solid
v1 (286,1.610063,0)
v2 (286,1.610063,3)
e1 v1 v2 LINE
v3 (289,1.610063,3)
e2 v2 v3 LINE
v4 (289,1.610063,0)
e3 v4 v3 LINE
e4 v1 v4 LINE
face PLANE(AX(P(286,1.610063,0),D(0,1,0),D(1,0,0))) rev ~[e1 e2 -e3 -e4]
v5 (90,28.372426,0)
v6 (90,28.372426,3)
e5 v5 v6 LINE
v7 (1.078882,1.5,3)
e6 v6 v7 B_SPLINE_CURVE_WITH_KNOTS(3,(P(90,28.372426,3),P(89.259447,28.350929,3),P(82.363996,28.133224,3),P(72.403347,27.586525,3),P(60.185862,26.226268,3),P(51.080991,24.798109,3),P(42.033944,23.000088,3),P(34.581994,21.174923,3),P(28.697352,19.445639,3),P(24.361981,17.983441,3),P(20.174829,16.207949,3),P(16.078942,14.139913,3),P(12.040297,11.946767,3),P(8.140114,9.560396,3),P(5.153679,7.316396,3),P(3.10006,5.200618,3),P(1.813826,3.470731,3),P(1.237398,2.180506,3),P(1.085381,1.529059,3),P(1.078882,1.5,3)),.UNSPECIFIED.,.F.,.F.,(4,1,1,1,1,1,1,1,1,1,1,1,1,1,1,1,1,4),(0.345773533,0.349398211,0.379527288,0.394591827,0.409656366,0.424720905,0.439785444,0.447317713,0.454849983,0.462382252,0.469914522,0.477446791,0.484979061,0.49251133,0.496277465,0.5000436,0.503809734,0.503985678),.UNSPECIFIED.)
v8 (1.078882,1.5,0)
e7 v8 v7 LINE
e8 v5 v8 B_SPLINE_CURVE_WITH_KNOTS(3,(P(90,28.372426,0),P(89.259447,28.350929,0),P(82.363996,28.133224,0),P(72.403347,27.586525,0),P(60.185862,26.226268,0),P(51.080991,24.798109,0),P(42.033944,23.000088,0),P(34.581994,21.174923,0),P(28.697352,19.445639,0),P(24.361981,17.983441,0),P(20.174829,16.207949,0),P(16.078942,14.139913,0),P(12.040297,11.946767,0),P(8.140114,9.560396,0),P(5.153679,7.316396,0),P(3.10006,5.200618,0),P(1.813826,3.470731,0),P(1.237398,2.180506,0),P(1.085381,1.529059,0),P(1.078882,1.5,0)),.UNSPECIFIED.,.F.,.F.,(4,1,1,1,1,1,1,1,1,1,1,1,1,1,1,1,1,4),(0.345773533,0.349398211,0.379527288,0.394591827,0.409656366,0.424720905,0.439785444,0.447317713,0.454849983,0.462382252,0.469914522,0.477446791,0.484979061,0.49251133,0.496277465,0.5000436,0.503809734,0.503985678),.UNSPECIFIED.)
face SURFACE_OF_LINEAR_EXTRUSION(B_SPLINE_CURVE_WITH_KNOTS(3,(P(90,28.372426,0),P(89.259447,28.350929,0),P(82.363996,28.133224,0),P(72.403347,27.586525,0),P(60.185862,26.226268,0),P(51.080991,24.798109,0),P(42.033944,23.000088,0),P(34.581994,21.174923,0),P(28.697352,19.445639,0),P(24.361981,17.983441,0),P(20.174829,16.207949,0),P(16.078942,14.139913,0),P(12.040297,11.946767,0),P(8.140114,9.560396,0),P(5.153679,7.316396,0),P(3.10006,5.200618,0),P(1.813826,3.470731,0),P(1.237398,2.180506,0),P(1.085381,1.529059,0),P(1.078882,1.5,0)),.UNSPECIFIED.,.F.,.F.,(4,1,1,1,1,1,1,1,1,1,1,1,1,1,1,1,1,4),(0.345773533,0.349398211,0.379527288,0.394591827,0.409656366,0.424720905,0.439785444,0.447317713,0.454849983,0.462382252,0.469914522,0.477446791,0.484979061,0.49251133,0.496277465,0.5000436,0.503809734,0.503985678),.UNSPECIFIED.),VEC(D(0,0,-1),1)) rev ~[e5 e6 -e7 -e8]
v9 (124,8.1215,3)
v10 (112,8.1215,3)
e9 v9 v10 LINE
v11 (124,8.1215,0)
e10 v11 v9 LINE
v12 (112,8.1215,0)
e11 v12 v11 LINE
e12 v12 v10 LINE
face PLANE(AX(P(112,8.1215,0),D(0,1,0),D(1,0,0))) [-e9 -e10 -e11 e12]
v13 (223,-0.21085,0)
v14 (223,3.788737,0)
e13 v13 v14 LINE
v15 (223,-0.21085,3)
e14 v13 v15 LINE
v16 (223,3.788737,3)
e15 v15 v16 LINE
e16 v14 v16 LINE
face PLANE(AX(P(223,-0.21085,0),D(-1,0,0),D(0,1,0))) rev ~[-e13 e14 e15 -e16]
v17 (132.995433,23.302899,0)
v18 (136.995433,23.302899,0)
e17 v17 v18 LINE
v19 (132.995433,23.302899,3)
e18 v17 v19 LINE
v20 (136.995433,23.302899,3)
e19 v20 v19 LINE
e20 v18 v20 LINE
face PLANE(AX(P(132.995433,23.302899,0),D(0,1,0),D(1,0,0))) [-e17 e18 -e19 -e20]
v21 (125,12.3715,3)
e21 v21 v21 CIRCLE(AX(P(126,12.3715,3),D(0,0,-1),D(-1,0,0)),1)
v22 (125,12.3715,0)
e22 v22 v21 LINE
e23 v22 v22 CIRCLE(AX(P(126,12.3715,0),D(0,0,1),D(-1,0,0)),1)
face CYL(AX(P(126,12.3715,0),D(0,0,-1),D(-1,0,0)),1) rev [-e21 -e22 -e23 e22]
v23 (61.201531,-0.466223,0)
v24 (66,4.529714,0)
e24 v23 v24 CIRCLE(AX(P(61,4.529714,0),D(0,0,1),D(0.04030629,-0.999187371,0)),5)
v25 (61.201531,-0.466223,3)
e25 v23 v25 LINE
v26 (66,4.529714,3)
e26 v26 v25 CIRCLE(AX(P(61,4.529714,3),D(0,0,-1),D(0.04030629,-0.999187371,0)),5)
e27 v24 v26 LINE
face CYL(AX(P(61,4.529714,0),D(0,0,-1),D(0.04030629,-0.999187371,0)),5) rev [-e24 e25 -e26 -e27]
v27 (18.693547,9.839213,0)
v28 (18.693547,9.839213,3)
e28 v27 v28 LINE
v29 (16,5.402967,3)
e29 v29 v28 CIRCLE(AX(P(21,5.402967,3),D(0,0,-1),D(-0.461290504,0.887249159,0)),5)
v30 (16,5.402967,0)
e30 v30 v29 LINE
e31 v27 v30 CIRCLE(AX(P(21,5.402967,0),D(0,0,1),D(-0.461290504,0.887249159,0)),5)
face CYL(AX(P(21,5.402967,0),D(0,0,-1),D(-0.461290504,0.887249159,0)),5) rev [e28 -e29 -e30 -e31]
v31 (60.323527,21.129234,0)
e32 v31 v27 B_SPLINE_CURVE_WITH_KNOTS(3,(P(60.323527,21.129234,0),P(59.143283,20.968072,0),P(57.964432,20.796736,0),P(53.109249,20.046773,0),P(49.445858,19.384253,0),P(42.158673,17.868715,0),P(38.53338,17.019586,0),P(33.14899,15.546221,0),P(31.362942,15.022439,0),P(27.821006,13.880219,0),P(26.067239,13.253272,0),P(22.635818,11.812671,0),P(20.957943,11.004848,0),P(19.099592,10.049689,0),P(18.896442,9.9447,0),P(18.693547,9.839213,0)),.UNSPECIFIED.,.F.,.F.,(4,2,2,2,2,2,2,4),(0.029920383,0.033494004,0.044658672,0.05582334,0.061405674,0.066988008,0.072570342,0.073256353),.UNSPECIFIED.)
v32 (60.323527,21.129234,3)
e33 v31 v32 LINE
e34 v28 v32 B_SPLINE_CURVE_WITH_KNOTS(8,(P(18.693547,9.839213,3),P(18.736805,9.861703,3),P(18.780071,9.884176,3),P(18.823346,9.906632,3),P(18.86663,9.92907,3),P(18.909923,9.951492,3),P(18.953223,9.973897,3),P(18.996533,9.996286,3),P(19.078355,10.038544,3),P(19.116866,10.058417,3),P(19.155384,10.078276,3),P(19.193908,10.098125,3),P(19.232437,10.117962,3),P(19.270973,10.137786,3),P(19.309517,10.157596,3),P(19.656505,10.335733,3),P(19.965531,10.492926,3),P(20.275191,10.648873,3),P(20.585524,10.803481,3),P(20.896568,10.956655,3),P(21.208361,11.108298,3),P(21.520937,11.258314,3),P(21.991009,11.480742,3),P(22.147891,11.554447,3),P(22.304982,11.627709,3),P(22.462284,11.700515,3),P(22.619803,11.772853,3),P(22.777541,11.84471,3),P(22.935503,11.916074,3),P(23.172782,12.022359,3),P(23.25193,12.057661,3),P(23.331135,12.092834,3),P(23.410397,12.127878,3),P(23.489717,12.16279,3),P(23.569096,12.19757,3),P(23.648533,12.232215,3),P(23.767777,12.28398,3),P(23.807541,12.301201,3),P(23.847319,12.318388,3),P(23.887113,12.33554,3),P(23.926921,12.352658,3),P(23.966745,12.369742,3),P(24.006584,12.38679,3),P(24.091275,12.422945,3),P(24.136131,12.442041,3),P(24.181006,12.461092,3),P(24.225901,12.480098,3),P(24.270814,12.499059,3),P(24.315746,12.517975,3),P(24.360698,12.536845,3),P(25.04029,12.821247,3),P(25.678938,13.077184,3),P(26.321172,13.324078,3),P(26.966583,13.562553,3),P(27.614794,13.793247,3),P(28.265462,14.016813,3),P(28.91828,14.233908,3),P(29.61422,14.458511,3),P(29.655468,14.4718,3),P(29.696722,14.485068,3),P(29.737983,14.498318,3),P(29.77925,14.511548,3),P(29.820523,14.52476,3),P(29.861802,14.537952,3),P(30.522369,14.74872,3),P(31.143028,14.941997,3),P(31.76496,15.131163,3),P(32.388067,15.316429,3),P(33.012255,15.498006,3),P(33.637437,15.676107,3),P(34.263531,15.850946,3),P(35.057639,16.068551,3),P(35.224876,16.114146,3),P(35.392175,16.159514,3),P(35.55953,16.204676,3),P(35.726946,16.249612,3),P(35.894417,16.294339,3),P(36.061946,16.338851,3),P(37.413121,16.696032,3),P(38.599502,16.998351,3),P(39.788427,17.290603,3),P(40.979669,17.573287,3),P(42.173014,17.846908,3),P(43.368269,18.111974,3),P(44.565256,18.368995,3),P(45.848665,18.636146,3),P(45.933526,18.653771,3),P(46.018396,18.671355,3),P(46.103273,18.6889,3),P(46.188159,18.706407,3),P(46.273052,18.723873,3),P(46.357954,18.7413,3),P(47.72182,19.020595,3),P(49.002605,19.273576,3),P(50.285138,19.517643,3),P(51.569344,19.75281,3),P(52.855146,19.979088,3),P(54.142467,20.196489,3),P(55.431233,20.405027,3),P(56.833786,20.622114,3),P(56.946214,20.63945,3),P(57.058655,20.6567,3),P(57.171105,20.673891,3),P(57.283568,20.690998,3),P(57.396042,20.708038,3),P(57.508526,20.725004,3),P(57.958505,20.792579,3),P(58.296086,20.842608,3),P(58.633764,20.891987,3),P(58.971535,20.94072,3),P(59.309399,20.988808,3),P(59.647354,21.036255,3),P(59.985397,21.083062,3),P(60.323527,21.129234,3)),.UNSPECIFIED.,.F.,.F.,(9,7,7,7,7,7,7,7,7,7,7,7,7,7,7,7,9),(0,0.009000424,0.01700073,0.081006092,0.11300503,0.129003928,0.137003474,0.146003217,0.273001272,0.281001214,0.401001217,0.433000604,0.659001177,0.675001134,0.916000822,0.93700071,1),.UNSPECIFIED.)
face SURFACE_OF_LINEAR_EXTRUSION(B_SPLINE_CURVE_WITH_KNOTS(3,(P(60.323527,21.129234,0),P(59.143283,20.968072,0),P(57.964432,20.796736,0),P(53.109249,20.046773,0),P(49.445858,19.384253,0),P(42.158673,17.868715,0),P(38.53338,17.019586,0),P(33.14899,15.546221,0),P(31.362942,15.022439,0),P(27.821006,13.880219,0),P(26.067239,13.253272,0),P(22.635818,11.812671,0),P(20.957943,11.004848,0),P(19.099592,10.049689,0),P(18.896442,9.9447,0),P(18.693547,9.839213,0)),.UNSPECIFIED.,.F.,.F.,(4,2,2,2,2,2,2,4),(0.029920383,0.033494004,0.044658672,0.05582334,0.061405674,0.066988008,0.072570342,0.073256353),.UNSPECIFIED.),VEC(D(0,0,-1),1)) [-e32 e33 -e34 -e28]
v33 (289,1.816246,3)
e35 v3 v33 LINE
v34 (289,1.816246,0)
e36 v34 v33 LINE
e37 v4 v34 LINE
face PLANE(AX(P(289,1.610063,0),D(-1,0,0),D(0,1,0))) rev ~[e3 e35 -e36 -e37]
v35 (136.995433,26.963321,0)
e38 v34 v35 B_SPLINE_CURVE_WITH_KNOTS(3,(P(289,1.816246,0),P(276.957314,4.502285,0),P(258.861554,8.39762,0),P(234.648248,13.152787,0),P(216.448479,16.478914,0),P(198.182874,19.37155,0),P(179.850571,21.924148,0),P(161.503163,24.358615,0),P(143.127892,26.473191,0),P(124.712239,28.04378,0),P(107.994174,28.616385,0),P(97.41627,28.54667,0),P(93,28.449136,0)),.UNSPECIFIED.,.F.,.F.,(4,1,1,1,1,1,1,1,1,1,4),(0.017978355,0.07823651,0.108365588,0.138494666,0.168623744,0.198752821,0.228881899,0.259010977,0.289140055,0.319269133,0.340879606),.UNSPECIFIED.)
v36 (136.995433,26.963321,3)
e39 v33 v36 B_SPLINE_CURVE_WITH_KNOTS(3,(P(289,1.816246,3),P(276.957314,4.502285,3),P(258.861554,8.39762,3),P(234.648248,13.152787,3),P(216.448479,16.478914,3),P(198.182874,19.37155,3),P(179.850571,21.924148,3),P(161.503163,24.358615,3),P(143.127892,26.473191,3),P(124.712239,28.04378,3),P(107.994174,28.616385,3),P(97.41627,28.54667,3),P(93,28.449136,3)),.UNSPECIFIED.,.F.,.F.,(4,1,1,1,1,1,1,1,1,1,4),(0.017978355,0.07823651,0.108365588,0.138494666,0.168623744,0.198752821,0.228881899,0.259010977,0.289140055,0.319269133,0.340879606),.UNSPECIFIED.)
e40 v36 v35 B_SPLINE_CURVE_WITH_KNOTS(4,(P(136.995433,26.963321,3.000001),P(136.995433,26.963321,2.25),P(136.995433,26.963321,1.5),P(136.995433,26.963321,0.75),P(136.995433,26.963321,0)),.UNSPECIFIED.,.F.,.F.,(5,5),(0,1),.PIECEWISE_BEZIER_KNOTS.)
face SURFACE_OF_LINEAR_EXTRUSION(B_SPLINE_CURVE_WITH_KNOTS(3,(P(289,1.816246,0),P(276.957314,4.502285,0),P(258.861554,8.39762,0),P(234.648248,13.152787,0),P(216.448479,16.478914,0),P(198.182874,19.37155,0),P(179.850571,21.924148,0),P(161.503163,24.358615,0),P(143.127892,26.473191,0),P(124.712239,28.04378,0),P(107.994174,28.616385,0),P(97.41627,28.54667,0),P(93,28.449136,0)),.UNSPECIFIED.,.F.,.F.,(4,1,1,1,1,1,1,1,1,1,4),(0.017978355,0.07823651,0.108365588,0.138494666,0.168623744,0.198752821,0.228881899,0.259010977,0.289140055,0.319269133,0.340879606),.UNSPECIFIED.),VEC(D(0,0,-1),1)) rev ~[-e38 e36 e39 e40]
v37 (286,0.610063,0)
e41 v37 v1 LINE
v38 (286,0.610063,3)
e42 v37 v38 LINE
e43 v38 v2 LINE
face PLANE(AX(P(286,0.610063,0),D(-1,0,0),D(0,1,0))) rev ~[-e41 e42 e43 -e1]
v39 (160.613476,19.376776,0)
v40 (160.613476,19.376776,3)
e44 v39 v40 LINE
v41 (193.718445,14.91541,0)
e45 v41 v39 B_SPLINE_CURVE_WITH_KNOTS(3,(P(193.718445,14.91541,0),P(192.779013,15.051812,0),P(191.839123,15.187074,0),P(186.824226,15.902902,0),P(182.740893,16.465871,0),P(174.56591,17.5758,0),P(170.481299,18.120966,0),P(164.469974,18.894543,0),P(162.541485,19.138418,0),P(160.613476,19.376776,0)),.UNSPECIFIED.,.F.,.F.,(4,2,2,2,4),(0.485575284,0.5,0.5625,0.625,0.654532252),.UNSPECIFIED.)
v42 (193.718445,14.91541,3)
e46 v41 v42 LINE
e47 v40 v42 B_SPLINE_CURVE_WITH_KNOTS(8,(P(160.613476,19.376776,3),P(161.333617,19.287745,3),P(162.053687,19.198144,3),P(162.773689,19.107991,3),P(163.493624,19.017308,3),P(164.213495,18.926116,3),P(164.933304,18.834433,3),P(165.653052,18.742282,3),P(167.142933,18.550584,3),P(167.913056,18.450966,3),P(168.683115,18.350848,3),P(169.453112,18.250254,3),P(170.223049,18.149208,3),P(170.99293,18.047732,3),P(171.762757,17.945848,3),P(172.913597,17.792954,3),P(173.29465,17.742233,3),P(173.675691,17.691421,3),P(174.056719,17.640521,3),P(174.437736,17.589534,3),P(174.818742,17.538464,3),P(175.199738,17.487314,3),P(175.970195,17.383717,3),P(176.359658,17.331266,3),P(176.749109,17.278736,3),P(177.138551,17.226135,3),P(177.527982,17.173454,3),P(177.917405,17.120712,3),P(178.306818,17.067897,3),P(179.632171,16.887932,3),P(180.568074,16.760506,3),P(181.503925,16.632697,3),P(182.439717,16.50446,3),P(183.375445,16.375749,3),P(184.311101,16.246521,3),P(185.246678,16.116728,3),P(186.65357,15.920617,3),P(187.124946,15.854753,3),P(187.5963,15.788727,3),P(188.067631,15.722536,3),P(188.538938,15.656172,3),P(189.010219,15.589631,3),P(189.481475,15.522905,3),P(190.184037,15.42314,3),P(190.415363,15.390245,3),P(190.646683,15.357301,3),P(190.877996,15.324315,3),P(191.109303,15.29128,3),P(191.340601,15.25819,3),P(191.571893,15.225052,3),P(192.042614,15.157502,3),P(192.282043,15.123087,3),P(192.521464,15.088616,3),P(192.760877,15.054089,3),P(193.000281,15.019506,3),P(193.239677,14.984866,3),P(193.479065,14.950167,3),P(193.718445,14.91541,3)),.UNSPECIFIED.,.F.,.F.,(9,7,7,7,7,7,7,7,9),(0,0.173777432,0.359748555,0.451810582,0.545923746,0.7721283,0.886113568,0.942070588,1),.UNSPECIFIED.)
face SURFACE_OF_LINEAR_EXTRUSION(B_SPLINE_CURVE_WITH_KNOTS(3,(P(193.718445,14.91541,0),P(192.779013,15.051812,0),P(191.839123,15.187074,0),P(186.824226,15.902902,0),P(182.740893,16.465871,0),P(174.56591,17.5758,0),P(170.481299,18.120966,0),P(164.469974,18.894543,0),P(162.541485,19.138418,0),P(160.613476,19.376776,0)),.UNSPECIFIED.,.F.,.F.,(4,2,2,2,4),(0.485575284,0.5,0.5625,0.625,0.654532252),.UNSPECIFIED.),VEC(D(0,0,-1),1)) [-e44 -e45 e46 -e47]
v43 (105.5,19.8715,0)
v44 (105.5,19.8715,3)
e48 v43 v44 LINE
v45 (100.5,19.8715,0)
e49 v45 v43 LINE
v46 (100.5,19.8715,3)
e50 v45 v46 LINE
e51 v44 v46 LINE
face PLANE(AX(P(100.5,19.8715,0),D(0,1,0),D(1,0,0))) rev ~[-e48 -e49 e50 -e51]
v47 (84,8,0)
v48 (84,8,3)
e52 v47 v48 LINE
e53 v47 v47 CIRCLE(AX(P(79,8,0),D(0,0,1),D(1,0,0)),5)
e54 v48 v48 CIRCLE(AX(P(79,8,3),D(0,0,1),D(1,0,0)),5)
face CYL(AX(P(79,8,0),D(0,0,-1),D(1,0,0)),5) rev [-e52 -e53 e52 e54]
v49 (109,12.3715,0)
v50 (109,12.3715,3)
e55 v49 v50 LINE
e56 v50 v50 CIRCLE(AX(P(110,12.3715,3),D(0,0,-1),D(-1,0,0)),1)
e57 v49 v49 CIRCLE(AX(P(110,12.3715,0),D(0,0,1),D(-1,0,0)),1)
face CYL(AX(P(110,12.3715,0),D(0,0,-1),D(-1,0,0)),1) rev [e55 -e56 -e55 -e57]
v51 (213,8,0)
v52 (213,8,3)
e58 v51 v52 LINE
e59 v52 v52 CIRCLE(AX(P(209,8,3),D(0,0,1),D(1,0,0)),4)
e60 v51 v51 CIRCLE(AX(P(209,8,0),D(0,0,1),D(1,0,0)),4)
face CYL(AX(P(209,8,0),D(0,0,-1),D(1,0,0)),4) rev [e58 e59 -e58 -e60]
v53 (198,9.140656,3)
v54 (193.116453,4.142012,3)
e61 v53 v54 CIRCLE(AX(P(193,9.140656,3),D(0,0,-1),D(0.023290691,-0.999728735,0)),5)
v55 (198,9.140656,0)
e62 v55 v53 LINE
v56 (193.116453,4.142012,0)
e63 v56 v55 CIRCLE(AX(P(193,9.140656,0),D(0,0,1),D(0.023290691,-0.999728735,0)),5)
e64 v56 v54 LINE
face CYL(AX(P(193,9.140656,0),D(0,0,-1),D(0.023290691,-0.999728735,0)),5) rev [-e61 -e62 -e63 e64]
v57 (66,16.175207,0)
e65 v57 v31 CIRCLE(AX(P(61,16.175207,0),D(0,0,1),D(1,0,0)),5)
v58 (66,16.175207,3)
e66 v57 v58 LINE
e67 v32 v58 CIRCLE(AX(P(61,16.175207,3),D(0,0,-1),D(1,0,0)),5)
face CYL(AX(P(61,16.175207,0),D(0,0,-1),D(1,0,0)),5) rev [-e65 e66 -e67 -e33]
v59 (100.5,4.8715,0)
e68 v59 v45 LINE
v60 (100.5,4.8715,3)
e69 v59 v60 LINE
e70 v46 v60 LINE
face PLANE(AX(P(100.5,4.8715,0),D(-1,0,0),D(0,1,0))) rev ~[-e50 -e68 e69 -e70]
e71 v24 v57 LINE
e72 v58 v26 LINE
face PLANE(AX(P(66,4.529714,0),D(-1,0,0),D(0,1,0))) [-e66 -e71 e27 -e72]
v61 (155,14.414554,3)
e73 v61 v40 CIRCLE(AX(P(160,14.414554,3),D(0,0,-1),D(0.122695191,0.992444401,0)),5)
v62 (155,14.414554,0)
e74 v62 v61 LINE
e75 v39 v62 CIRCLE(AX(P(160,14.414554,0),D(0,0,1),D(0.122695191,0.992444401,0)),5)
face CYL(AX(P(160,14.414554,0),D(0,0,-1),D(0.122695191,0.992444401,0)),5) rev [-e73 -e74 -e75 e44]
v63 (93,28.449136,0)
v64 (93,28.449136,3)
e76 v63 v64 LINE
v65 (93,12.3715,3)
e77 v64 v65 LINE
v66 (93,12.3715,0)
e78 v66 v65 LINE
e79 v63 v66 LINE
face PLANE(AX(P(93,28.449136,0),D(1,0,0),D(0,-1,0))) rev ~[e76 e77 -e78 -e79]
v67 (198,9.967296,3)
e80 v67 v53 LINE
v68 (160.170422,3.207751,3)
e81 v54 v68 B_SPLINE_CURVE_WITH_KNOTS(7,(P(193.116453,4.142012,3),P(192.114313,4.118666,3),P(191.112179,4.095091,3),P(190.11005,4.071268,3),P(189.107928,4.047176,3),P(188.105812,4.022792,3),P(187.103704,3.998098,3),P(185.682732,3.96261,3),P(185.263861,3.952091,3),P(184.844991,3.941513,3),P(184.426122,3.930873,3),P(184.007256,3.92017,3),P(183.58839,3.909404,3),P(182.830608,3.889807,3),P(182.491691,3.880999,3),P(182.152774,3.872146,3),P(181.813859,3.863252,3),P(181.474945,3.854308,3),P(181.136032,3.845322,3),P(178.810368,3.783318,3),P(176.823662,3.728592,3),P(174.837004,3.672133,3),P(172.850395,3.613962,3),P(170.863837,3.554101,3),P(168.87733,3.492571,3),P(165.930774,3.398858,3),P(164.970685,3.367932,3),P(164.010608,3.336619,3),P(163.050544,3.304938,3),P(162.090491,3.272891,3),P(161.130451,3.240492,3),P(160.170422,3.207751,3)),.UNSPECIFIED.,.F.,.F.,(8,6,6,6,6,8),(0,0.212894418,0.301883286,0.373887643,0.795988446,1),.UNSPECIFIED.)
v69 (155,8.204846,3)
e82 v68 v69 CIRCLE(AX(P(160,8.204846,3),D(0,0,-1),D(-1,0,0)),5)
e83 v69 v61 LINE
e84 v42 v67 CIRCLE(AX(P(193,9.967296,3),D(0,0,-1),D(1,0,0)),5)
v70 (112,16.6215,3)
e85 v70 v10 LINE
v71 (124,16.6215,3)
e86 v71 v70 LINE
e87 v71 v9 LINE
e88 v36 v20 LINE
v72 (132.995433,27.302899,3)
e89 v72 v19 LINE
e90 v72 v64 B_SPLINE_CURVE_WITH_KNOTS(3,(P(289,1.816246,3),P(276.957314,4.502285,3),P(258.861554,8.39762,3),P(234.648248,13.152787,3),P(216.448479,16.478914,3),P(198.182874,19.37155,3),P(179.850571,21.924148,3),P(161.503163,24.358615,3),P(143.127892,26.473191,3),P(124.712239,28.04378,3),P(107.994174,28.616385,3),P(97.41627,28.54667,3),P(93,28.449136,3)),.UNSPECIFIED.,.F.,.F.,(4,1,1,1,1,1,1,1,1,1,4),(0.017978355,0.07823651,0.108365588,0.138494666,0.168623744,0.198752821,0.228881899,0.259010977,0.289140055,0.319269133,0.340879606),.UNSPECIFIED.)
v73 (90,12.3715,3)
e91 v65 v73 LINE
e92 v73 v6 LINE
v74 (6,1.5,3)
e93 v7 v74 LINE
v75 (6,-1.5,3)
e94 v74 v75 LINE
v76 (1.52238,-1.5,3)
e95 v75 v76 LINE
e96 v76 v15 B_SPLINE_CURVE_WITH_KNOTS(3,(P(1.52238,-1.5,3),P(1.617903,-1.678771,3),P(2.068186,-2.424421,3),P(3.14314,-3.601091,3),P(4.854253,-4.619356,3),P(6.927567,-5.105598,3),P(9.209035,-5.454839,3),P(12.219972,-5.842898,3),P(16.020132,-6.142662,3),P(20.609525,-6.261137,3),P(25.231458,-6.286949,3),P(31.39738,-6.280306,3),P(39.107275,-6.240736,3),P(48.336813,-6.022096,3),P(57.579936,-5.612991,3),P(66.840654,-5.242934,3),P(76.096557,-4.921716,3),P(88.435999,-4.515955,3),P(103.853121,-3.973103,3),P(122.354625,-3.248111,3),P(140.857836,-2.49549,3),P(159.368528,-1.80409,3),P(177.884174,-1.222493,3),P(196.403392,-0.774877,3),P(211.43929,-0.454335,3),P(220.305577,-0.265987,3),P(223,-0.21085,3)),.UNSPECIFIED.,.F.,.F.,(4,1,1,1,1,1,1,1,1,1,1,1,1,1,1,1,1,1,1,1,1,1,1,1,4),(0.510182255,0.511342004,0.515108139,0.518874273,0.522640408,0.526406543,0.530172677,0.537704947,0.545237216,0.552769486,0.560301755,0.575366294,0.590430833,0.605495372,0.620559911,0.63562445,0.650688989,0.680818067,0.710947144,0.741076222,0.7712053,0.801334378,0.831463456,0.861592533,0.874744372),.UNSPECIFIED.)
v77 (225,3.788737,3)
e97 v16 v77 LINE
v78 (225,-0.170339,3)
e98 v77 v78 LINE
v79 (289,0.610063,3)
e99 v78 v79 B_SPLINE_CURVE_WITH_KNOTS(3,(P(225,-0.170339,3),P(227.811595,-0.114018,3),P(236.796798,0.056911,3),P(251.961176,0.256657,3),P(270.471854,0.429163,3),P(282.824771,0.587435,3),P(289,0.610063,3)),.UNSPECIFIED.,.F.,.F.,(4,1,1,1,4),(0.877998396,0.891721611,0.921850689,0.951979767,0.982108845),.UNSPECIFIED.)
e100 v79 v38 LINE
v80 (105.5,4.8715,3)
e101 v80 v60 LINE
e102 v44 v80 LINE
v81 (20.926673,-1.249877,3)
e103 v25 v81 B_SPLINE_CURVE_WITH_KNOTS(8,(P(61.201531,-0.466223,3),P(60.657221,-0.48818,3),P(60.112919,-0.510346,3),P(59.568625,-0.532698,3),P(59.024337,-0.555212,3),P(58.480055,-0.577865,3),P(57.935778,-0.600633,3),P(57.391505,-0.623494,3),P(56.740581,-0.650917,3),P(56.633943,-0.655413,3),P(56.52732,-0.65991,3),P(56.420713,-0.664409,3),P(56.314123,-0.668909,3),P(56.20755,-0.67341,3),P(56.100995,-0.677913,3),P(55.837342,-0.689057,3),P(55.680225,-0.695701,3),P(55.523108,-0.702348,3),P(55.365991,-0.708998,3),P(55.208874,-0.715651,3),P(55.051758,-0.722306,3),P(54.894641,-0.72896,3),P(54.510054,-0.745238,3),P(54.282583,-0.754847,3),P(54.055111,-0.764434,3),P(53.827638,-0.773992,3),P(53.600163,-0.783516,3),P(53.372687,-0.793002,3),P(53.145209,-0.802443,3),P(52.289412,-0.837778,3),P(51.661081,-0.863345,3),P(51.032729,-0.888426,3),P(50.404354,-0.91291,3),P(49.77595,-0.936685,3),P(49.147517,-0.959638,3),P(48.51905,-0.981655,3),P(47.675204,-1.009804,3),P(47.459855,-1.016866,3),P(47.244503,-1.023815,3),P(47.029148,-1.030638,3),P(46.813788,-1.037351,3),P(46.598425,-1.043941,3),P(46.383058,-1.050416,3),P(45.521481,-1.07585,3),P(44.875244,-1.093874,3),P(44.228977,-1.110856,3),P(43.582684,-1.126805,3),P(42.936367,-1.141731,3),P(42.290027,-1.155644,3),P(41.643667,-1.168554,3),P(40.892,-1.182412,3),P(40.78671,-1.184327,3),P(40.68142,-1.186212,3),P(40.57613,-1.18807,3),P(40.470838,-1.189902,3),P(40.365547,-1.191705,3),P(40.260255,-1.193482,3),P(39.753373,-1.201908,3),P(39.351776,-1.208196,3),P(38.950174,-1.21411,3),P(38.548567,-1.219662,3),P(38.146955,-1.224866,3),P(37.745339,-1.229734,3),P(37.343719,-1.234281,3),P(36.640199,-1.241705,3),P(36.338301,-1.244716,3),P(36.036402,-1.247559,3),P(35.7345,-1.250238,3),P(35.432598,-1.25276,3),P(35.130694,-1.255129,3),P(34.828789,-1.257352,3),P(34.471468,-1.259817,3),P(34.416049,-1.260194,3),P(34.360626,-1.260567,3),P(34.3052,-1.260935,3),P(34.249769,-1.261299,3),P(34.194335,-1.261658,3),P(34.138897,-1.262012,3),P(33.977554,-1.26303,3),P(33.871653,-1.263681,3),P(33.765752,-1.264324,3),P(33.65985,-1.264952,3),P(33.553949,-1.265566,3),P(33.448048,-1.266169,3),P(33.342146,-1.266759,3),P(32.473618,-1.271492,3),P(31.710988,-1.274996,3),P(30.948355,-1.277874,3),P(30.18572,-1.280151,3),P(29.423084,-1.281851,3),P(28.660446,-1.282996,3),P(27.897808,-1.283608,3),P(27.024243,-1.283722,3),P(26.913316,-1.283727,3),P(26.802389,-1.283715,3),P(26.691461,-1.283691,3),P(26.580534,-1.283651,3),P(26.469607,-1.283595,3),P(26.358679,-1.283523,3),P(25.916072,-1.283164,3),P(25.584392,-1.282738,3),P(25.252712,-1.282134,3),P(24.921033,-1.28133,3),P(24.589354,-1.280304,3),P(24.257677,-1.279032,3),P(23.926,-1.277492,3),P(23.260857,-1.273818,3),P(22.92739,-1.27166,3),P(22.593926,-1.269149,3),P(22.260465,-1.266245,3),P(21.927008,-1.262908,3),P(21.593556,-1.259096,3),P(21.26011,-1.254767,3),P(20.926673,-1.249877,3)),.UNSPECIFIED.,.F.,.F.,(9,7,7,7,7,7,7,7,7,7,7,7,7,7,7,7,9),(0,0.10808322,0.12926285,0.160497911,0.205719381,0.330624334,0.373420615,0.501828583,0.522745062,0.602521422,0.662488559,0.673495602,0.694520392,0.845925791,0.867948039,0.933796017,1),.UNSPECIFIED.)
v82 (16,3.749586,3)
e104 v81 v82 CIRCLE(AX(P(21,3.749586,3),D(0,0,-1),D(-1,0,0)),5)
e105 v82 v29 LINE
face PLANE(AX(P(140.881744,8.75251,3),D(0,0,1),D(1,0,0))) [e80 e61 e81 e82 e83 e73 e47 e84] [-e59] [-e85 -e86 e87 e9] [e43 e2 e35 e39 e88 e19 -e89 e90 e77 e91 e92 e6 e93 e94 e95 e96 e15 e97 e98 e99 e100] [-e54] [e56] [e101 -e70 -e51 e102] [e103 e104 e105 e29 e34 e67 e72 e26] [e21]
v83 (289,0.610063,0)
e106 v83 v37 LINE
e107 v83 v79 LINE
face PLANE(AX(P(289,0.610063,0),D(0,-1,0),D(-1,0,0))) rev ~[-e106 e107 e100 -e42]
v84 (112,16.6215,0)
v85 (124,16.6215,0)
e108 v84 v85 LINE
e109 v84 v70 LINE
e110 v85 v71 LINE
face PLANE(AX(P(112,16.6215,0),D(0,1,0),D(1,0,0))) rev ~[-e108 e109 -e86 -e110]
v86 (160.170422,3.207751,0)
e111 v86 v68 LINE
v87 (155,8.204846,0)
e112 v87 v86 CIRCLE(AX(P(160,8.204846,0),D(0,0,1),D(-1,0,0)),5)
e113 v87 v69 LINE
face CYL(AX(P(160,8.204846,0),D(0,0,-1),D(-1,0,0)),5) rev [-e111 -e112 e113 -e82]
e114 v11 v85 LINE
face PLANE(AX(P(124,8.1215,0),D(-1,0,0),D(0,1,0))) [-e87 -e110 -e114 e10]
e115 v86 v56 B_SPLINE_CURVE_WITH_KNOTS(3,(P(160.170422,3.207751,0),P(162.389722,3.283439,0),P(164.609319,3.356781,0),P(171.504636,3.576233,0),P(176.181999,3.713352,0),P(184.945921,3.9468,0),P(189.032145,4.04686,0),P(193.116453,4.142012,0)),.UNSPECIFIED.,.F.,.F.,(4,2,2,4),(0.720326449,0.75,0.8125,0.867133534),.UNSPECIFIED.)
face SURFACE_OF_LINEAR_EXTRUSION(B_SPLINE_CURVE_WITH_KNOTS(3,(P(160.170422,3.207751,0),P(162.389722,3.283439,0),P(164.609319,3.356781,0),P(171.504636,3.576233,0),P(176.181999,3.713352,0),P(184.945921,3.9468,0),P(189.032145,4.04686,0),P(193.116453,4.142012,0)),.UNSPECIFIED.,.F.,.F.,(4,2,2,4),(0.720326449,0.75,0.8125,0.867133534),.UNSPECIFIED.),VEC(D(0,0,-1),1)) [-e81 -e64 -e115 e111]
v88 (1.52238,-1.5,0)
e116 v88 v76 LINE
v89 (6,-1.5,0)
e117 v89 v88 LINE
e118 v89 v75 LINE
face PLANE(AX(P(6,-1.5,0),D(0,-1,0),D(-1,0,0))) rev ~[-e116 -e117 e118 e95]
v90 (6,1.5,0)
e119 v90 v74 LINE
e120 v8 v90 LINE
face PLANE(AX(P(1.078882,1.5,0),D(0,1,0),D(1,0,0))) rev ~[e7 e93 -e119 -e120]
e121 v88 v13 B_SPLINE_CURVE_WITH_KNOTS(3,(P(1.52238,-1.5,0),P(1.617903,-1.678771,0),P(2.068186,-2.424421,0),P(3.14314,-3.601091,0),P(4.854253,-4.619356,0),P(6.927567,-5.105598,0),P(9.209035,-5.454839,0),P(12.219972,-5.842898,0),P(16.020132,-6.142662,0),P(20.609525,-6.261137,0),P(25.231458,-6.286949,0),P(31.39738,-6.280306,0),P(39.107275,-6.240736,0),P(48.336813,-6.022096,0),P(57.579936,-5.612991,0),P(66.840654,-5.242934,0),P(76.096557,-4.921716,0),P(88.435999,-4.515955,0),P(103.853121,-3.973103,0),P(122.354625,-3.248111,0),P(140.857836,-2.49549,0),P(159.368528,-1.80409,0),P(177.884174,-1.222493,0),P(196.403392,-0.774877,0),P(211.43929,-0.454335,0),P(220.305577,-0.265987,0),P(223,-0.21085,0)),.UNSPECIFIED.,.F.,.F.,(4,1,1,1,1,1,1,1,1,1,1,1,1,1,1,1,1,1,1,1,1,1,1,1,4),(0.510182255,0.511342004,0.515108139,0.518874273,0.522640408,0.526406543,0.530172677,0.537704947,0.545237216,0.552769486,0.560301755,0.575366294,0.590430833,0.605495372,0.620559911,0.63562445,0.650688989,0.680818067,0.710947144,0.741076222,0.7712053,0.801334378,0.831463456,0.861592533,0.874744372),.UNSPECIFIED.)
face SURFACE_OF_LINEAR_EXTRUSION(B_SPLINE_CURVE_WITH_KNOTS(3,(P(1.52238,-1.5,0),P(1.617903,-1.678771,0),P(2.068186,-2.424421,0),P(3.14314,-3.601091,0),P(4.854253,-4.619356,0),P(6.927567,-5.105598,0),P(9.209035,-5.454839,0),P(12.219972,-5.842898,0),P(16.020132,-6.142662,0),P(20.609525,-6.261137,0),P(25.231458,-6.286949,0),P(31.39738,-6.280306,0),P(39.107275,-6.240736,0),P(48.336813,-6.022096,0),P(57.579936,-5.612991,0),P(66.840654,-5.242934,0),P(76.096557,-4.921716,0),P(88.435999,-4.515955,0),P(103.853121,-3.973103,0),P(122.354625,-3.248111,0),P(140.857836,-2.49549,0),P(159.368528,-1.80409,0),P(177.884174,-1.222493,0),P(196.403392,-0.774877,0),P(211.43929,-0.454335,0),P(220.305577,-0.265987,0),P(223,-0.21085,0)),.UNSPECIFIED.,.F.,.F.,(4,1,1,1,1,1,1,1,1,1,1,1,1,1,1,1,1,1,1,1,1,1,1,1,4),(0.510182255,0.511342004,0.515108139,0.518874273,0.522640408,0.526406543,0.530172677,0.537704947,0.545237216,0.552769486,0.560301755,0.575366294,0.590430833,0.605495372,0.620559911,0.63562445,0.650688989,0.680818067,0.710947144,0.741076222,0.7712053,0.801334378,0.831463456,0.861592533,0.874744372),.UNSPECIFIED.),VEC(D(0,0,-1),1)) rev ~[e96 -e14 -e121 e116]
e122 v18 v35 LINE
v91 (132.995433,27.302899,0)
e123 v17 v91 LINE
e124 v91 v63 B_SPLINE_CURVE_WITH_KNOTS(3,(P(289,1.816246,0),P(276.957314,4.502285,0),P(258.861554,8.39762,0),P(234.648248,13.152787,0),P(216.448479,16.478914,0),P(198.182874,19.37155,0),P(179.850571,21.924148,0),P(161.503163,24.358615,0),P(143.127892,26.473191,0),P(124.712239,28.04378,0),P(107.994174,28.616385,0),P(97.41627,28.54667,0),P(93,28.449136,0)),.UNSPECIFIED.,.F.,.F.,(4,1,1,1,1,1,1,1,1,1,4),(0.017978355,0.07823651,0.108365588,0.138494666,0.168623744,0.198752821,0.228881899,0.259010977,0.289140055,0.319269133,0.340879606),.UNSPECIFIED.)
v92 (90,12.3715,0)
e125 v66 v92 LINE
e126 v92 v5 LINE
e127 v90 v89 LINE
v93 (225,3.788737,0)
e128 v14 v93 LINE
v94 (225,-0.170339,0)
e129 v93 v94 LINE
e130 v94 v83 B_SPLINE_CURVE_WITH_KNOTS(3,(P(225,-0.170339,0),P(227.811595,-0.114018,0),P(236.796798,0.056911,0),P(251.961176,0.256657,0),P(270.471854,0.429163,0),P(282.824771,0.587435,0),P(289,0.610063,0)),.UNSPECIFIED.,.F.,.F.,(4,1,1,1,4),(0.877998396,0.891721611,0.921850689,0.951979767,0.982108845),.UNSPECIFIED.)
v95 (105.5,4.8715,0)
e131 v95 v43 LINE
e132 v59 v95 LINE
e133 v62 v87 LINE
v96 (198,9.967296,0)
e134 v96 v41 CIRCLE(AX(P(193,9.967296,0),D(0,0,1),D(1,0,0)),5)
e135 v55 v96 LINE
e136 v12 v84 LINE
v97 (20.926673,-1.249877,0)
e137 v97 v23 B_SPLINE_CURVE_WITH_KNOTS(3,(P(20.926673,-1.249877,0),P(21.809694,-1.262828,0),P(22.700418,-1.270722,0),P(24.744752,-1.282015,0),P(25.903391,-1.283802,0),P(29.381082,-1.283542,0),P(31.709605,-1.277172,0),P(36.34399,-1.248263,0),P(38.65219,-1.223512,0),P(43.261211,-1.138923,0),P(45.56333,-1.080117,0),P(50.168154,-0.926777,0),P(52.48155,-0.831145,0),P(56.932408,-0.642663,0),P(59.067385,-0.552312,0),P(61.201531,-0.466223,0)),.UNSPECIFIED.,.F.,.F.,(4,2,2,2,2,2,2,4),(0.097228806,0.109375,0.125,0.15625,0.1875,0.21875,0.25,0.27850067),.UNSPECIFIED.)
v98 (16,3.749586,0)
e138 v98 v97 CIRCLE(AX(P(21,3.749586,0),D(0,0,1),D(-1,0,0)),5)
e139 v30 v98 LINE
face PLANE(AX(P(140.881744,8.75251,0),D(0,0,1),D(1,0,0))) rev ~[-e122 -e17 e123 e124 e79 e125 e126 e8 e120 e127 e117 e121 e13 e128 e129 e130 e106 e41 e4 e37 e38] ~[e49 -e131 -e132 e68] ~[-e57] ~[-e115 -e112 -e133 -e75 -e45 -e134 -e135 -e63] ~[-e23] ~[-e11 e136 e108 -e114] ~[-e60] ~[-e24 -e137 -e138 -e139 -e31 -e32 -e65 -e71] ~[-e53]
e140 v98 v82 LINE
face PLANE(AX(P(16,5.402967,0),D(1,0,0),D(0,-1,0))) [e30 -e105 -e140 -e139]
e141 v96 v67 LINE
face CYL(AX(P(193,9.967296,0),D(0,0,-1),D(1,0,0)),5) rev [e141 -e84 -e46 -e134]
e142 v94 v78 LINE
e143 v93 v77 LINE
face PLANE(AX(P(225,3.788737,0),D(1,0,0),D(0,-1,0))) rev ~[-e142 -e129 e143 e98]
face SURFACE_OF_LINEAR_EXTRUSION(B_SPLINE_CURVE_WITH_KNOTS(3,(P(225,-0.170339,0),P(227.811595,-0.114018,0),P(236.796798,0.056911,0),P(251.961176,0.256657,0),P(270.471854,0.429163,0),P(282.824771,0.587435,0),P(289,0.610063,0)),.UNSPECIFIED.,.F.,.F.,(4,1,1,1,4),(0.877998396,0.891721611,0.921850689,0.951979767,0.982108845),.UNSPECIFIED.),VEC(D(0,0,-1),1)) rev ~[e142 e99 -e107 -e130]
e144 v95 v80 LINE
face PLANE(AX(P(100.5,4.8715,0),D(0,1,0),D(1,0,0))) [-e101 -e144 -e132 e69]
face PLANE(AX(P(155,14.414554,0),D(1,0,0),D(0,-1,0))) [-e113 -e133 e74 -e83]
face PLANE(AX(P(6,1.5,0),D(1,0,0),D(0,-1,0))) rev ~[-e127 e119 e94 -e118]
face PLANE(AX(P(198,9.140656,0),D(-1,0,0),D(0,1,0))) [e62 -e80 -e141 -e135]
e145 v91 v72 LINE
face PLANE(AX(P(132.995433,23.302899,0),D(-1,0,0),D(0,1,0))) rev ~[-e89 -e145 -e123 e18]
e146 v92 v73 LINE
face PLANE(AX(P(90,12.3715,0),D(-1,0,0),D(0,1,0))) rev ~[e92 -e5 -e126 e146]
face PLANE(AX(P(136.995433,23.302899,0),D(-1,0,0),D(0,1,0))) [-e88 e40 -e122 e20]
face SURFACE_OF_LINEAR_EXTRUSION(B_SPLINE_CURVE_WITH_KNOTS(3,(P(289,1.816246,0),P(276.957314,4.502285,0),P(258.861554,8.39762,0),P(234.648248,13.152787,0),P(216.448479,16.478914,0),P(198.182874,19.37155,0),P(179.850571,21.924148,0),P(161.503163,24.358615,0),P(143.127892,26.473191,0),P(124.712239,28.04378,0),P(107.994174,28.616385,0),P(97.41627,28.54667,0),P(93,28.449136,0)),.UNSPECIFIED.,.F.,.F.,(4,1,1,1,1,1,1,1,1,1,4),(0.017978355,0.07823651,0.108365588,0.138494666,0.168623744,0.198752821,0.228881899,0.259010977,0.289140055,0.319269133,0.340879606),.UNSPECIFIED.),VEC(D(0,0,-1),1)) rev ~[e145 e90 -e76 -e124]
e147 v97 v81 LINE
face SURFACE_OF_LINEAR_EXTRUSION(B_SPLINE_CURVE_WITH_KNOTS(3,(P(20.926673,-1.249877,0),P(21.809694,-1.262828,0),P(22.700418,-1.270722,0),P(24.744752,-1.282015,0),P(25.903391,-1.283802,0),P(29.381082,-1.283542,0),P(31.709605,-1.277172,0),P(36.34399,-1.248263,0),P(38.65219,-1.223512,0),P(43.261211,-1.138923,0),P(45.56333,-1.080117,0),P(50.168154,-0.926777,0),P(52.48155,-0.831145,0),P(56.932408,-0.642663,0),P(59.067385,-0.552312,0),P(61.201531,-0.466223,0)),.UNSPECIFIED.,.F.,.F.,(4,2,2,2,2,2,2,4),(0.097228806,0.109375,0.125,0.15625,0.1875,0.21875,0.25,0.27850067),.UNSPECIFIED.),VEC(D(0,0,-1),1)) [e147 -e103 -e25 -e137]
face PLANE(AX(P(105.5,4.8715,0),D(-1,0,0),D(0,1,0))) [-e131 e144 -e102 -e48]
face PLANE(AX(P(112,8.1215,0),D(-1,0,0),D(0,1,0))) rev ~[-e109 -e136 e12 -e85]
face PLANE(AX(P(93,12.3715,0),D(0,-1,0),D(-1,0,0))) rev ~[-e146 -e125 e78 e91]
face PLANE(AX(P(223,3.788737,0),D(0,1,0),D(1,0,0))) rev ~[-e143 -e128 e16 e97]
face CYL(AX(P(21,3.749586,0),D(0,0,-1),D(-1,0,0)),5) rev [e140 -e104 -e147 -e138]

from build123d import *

# Parameters (mm, degrees)
SKETCH_1_R          = 5
SKETCH_1_R_2        = 4
EXTRUDE_1_DEPTH     = 3
SKETCH_3_W          = 5
SKETCH_3_H          = 15
SKETCH_3_W_2        = 12
SKETCH_3_H_2        = 8.5
SKETCH_3_R          = 1
SKETCH_3_W_3        = 4
SKETCH_3_H_3        = 4
CUT_EXTRUDE_2_DEPTH = 291.422386836


with BuildPart() as part:
    # 草图1 → 凸台-拉伸1 (new body)
    with BuildSketch(Plane.XY):
        with BuildLine():
            Line((90, 12.3715), (90, 28.372426217))
            add(Edge.make_bspline(
                [(90, 28.372426217), (89.259446982, 28.350928743), (82.363996343, 28.13322439), (72.403347361, 27.586524792), (60.185862052, 26.226268085), (51.080991088, 24.79810862), (42.033943524, 23.000087944), (34.581994337, 21.174922903), (28.697351661, 19.44563851), (24.361981086, 17.983441115), (20.174828998, 16.207949367), (16.078941989, 14.139912989), (12.040296713, 11.946766626), (8.14011433, 9.56039573), (5.153679337, 7.316395724), (3.100060439, 5.200618052), (1.813825976, 3.470730924), (1.237398467, 2.180506339), (1.085380705, 1.529058937), (1.078882286, 1.5)],
                knots=[0.345773533, 0.345773533, 0.345773533, 0.345773533, 0.349398211, 0.379527288, 0.394591827, 0.409656366, 0.424720905, 0.439785444, 0.447317713, 0.454849983, 0.462382252, 0.469914522, 0.477446791, 0.484979061, 0.49251133, 0.496277465, 0.5000436, 0.503809734, 0.503985678, 0.503985678, 0.503985678, 0.503985678], degree=3))
            Line((1.078882286, 1.5), (6, 1.5))
            Line((6, 1.5), (6, -1.5))
            Line((6, -1.5), (1.522379628, -1.5))
            add(Edge.make_bspline(
                [(1.522379628, -1.5), (1.617903461, -1.678770523), (2.068186491, -2.42442122), (3.143139608, -3.601090845), (4.854253, -4.619355756), (6.927567017, -5.105597911), (9.209034621, -5.454839075), (12.219971865, -5.84289763), (16.020132359, -6.14266222), (20.609524976, -6.2611368), (25.231457517, -6.286948592), (31.397380169, -6.280305851), (39.107274969, -6.240736398), (48.336813051, -6.022096429), (57.579935967, -5.612990736), (66.840654471, -5.242934226), (76.096556555, -4.921715721), (88.435998513, -4.515955408), (103.853120896, -3.973102953), (122.354625015, -3.248110744), (140.857835973, -2.495489966), (159.368527813, -1.804089638), (177.884173919, -1.222493213), (196.4033921, -0.774877257), (211.439290174, -0.454334834), (220.305576898, -0.265987383), (223, -0.210849605)],
                knots=[0.510182255, 0.510182255, 0.510182255, 0.510182255, 0.511342004, 0.515108139, 0.518874273, 0.522640408, 0.526406543, 0.530172677, 0.537704947, 0.545237216, 0.552769486, 0.560301755, 0.575366294, 0.590430833, 0.605495372, 0.620559911, 0.63562445, 0.650688989, 0.680818067, 0.710947144, 0.741076222, 0.7712053, 0.801334378, 0.831463456, 0.861592533, 0.874744372, 0.874744372, 0.874744372, 0.874744372], degree=3))
            Line((223, -0.210849605), (223, 3.788737263))
            Line((223, 3.788737263), (225, 3.788737263))
            Line((225, 3.788737263), (225, -0.170338801))
            add(Edge.make_bspline(
                [(225, -0.170338801), (227.811595191, -0.114017747), (236.796798206, 0.056910764), (251.961175933, 0.256656825), (270.471854229, 0.429163033), (282.824771355, 0.587434741), (289, 0.610062865)],
                knots=[0.877998396, 0.877998396, 0.877998396, 0.877998396, 0.891721611, 0.921850689, 0.951979767, 0.982108845, 0.982108845, 0.982108845, 0.982108845], degree=3))
            Line((289, 0.610062865), (286, 0.610062865))
            Line((286, 0.610062865), (286, 1.610062865))
            Line((286, 1.610062865), (289, 1.610062865))
            Line((289, 1.610062865), (289, 1.816246039))
            add(Edge.make_bspline(
                [(289, 1.816246039), (276.957314444, 4.502285023), (258.861554155, 8.397620333), (234.648247971, 13.152786595), (216.448478593, 16.478914183), (198.182873559, 19.371550405), (179.850571346, 21.924148488), (161.503162682, 24.358614825), (143.127892269, 26.473190985), (124.712239059, 28.043780086), (107.994173705, 28.616385423), (97.416270032, 28.546670082), (93, 28.44913561)],
                knots=[0.017978355, 0.017978355, 0.017978355, 0.017978355, 0.07823651, 0.108365588, 0.138494666, 0.168623744, 0.198752821, 0.228881899, 0.259010977, 0.289140055, 0.319269133, 0.340879606, 0.340879606, 0.340879606, 0.340879606], degree=3))
            Line((93, 28.44913561), (93, 12.3715))
            Line((93, 12.3715), (90, 12.3715))
        make_face()
        with Locations((79, 8)):
            Circle(SKETCH_1_R, mode=Mode.SUBTRACT)
        with Locations((209, 8)):
            Circle(SKETCH_1_R_2, mode=Mode.SUBTRACT)
    extrude(amount=EXTRUDE_1_DEPTH)

    # 草图3 → 切除-拉伸2 (cut, through all)
    with BuildSketch(Plane.XY):
        with Locations((103, 12.3715)):
            Rectangle(SKETCH_3_W, SKETCH_3_H)
        with Locations((118, 12.3715)):
            Rectangle(SKETCH_3_W_2, SKETCH_3_H_2)
        with Locations(Location((110, 12.3715, 0), (0, 0, 180))):
            Circle(SKETCH_3_R)
        with Locations(Location((126, 12.3715, 0), (0, 0, 180))):
            Circle(SKETCH_3_R)
        with Locations((134.995432672, 25.302899085)):
            Rectangle(SKETCH_3_W_3, SKETCH_3_H_3)
        with BuildLine():
            add(Edge.make_bspline(
                [(193.718444833, 14.915410202), (192.779013077, 15.051811632), (191.839123333, 15.187073825), (186.824226186, 15.902901834), (182.740892869, 16.465870736), (174.565909682, 17.575800313), (170.481299177, 18.120965891), (164.469973656, 18.894543341), (162.541485429, 19.138417507), (160.613475955, 19.376775938)],
                knots=[0.485575284, 0.485575284, 0.485575284, 0.485575284, 0.5, 0.5, 0.5625, 0.5625, 0.625, 0.625, 0.654532252, 0.654532252, 0.654532252, 0.654532252], degree=3))
            ThreePointArc((160.613475955, 19.376775938), (156.688458046, 18.160710613), (155, 14.41455393))
            Line((155, 14.41455393), (155, 8.204846233))
            ThreePointArc((155, 8.204846233), (156.525241738, 4.609563904), (160.17042201, 3.207751443))
            add(Edge.make_bspline(
                [(160.17042201, 3.207751443), (162.389721662, 3.283438922), (164.609319497, 3.356780918), (171.504636491, 3.576232826), (176.18199895, 3.713351663), (184.945921303, 3.946800138), (189.03214497, 4.046860263), (193.116453453, 4.14201244)],
                knots=[0.720326449, 0.720326449, 0.720326449, 0.720326449, 0.75, 0.75, 0.8125, 0.8125, 0.867133534, 0.867133534, 0.867133534, 0.867133534], degree=3))
            ThreePointArc((193.116453453, 4.14201244), (196.576469437, 5.64653729), (198, 9.140656115))
            Line((198, 9.140656115), (198, 9.967295711))
            ThreePointArc((198, 9.967295711), (196.781019979, 13.238975389), (193.718444833, 14.915410202))
        make_face()
        with BuildLine():
            add(Edge.make_bspline(
                [(20.926673148, -1.249876658), (21.809693827, -1.262827876), (22.70041751, -1.270722289), (24.744752026, -1.282014543), (25.903390676, -1.283802206), (29.38108188, -1.283541675), (31.709604831, -1.277171959), (36.343989553, -1.248263334), (38.652190318, -1.223511787), (43.261210505, -1.138923387), (45.563329713, -1.080117385), (50.168153725, -0.92677743), (52.481550313, -0.831144642), (56.932408226, -0.642663317), (59.067384966, -0.552312083), (61.20153145, -0.466222597)],
                knots=[0.097228806, 0.097228806, 0.097228806, 0.097228806, 0.109375, 0.109375, 0.125, 0.125, 0.15625, 0.15625, 0.1875, 0.1875, 0.21875, 0.21875, 0.25, 0.25, 0.27850067, 0.27850067, 0.27850067, 0.27850067], degree=3))
            ThreePointArc((61.20153145, -0.466222597), (64.606082171, 1.066165303), (66, 4.529714259))
            Line((66, 4.529714259), (66, 16.175207171))
            ThreePointArc((66, 16.175207171), (64.287676463, 19.942325894), (60.32352661, 21.129234195))
            add(Edge.make_bspline(
                [(60.32352661, 21.129234195), (59.143282742, 20.968071656), (57.964431768, 20.796736398), (53.109249428, 20.046773379), (49.445857595, 19.384253181), (42.158673028, 17.868714577), (38.533379611, 17.019586343), (33.148990447, 15.546220745), (31.362942012, 15.022439399), (27.821005995, 13.880218625), (26.067238608, 13.253271835), (22.635818059, 11.812670552), (20.957942753, 11.004847704), (19.099592195, 10.049689097), (18.896441621, 9.944700093), (18.693547477, 9.839213217)],
                knots=[0.029920383, 0.029920383, 0.029920383, 0.029920383, 0.033494004, 0.033494004, 0.044658672, 0.044658672, 0.05582334, 0.05582334, 0.061405674, 0.061405674, 0.066988008, 0.066988008, 0.072570342, 0.072570342, 0.073256353, 0.073256353, 0.073256353, 0.073256353], degree=3))
            ThreePointArc((18.693547477, 9.839213217), (16.726110517, 7.997937304), (16, 5.402967421))
            Line((16, 5.402967421), (16, 3.749585631))
            ThreePointArc((16, 3.749585631), (17.438635496, 0.240072435), (20.926673148, -1.249876658))
        make_face()
    extrude(amount=CUT_EXTRUDE_2_DEPTH, mode=Mode.SUBTRACT)


solid = part.part
